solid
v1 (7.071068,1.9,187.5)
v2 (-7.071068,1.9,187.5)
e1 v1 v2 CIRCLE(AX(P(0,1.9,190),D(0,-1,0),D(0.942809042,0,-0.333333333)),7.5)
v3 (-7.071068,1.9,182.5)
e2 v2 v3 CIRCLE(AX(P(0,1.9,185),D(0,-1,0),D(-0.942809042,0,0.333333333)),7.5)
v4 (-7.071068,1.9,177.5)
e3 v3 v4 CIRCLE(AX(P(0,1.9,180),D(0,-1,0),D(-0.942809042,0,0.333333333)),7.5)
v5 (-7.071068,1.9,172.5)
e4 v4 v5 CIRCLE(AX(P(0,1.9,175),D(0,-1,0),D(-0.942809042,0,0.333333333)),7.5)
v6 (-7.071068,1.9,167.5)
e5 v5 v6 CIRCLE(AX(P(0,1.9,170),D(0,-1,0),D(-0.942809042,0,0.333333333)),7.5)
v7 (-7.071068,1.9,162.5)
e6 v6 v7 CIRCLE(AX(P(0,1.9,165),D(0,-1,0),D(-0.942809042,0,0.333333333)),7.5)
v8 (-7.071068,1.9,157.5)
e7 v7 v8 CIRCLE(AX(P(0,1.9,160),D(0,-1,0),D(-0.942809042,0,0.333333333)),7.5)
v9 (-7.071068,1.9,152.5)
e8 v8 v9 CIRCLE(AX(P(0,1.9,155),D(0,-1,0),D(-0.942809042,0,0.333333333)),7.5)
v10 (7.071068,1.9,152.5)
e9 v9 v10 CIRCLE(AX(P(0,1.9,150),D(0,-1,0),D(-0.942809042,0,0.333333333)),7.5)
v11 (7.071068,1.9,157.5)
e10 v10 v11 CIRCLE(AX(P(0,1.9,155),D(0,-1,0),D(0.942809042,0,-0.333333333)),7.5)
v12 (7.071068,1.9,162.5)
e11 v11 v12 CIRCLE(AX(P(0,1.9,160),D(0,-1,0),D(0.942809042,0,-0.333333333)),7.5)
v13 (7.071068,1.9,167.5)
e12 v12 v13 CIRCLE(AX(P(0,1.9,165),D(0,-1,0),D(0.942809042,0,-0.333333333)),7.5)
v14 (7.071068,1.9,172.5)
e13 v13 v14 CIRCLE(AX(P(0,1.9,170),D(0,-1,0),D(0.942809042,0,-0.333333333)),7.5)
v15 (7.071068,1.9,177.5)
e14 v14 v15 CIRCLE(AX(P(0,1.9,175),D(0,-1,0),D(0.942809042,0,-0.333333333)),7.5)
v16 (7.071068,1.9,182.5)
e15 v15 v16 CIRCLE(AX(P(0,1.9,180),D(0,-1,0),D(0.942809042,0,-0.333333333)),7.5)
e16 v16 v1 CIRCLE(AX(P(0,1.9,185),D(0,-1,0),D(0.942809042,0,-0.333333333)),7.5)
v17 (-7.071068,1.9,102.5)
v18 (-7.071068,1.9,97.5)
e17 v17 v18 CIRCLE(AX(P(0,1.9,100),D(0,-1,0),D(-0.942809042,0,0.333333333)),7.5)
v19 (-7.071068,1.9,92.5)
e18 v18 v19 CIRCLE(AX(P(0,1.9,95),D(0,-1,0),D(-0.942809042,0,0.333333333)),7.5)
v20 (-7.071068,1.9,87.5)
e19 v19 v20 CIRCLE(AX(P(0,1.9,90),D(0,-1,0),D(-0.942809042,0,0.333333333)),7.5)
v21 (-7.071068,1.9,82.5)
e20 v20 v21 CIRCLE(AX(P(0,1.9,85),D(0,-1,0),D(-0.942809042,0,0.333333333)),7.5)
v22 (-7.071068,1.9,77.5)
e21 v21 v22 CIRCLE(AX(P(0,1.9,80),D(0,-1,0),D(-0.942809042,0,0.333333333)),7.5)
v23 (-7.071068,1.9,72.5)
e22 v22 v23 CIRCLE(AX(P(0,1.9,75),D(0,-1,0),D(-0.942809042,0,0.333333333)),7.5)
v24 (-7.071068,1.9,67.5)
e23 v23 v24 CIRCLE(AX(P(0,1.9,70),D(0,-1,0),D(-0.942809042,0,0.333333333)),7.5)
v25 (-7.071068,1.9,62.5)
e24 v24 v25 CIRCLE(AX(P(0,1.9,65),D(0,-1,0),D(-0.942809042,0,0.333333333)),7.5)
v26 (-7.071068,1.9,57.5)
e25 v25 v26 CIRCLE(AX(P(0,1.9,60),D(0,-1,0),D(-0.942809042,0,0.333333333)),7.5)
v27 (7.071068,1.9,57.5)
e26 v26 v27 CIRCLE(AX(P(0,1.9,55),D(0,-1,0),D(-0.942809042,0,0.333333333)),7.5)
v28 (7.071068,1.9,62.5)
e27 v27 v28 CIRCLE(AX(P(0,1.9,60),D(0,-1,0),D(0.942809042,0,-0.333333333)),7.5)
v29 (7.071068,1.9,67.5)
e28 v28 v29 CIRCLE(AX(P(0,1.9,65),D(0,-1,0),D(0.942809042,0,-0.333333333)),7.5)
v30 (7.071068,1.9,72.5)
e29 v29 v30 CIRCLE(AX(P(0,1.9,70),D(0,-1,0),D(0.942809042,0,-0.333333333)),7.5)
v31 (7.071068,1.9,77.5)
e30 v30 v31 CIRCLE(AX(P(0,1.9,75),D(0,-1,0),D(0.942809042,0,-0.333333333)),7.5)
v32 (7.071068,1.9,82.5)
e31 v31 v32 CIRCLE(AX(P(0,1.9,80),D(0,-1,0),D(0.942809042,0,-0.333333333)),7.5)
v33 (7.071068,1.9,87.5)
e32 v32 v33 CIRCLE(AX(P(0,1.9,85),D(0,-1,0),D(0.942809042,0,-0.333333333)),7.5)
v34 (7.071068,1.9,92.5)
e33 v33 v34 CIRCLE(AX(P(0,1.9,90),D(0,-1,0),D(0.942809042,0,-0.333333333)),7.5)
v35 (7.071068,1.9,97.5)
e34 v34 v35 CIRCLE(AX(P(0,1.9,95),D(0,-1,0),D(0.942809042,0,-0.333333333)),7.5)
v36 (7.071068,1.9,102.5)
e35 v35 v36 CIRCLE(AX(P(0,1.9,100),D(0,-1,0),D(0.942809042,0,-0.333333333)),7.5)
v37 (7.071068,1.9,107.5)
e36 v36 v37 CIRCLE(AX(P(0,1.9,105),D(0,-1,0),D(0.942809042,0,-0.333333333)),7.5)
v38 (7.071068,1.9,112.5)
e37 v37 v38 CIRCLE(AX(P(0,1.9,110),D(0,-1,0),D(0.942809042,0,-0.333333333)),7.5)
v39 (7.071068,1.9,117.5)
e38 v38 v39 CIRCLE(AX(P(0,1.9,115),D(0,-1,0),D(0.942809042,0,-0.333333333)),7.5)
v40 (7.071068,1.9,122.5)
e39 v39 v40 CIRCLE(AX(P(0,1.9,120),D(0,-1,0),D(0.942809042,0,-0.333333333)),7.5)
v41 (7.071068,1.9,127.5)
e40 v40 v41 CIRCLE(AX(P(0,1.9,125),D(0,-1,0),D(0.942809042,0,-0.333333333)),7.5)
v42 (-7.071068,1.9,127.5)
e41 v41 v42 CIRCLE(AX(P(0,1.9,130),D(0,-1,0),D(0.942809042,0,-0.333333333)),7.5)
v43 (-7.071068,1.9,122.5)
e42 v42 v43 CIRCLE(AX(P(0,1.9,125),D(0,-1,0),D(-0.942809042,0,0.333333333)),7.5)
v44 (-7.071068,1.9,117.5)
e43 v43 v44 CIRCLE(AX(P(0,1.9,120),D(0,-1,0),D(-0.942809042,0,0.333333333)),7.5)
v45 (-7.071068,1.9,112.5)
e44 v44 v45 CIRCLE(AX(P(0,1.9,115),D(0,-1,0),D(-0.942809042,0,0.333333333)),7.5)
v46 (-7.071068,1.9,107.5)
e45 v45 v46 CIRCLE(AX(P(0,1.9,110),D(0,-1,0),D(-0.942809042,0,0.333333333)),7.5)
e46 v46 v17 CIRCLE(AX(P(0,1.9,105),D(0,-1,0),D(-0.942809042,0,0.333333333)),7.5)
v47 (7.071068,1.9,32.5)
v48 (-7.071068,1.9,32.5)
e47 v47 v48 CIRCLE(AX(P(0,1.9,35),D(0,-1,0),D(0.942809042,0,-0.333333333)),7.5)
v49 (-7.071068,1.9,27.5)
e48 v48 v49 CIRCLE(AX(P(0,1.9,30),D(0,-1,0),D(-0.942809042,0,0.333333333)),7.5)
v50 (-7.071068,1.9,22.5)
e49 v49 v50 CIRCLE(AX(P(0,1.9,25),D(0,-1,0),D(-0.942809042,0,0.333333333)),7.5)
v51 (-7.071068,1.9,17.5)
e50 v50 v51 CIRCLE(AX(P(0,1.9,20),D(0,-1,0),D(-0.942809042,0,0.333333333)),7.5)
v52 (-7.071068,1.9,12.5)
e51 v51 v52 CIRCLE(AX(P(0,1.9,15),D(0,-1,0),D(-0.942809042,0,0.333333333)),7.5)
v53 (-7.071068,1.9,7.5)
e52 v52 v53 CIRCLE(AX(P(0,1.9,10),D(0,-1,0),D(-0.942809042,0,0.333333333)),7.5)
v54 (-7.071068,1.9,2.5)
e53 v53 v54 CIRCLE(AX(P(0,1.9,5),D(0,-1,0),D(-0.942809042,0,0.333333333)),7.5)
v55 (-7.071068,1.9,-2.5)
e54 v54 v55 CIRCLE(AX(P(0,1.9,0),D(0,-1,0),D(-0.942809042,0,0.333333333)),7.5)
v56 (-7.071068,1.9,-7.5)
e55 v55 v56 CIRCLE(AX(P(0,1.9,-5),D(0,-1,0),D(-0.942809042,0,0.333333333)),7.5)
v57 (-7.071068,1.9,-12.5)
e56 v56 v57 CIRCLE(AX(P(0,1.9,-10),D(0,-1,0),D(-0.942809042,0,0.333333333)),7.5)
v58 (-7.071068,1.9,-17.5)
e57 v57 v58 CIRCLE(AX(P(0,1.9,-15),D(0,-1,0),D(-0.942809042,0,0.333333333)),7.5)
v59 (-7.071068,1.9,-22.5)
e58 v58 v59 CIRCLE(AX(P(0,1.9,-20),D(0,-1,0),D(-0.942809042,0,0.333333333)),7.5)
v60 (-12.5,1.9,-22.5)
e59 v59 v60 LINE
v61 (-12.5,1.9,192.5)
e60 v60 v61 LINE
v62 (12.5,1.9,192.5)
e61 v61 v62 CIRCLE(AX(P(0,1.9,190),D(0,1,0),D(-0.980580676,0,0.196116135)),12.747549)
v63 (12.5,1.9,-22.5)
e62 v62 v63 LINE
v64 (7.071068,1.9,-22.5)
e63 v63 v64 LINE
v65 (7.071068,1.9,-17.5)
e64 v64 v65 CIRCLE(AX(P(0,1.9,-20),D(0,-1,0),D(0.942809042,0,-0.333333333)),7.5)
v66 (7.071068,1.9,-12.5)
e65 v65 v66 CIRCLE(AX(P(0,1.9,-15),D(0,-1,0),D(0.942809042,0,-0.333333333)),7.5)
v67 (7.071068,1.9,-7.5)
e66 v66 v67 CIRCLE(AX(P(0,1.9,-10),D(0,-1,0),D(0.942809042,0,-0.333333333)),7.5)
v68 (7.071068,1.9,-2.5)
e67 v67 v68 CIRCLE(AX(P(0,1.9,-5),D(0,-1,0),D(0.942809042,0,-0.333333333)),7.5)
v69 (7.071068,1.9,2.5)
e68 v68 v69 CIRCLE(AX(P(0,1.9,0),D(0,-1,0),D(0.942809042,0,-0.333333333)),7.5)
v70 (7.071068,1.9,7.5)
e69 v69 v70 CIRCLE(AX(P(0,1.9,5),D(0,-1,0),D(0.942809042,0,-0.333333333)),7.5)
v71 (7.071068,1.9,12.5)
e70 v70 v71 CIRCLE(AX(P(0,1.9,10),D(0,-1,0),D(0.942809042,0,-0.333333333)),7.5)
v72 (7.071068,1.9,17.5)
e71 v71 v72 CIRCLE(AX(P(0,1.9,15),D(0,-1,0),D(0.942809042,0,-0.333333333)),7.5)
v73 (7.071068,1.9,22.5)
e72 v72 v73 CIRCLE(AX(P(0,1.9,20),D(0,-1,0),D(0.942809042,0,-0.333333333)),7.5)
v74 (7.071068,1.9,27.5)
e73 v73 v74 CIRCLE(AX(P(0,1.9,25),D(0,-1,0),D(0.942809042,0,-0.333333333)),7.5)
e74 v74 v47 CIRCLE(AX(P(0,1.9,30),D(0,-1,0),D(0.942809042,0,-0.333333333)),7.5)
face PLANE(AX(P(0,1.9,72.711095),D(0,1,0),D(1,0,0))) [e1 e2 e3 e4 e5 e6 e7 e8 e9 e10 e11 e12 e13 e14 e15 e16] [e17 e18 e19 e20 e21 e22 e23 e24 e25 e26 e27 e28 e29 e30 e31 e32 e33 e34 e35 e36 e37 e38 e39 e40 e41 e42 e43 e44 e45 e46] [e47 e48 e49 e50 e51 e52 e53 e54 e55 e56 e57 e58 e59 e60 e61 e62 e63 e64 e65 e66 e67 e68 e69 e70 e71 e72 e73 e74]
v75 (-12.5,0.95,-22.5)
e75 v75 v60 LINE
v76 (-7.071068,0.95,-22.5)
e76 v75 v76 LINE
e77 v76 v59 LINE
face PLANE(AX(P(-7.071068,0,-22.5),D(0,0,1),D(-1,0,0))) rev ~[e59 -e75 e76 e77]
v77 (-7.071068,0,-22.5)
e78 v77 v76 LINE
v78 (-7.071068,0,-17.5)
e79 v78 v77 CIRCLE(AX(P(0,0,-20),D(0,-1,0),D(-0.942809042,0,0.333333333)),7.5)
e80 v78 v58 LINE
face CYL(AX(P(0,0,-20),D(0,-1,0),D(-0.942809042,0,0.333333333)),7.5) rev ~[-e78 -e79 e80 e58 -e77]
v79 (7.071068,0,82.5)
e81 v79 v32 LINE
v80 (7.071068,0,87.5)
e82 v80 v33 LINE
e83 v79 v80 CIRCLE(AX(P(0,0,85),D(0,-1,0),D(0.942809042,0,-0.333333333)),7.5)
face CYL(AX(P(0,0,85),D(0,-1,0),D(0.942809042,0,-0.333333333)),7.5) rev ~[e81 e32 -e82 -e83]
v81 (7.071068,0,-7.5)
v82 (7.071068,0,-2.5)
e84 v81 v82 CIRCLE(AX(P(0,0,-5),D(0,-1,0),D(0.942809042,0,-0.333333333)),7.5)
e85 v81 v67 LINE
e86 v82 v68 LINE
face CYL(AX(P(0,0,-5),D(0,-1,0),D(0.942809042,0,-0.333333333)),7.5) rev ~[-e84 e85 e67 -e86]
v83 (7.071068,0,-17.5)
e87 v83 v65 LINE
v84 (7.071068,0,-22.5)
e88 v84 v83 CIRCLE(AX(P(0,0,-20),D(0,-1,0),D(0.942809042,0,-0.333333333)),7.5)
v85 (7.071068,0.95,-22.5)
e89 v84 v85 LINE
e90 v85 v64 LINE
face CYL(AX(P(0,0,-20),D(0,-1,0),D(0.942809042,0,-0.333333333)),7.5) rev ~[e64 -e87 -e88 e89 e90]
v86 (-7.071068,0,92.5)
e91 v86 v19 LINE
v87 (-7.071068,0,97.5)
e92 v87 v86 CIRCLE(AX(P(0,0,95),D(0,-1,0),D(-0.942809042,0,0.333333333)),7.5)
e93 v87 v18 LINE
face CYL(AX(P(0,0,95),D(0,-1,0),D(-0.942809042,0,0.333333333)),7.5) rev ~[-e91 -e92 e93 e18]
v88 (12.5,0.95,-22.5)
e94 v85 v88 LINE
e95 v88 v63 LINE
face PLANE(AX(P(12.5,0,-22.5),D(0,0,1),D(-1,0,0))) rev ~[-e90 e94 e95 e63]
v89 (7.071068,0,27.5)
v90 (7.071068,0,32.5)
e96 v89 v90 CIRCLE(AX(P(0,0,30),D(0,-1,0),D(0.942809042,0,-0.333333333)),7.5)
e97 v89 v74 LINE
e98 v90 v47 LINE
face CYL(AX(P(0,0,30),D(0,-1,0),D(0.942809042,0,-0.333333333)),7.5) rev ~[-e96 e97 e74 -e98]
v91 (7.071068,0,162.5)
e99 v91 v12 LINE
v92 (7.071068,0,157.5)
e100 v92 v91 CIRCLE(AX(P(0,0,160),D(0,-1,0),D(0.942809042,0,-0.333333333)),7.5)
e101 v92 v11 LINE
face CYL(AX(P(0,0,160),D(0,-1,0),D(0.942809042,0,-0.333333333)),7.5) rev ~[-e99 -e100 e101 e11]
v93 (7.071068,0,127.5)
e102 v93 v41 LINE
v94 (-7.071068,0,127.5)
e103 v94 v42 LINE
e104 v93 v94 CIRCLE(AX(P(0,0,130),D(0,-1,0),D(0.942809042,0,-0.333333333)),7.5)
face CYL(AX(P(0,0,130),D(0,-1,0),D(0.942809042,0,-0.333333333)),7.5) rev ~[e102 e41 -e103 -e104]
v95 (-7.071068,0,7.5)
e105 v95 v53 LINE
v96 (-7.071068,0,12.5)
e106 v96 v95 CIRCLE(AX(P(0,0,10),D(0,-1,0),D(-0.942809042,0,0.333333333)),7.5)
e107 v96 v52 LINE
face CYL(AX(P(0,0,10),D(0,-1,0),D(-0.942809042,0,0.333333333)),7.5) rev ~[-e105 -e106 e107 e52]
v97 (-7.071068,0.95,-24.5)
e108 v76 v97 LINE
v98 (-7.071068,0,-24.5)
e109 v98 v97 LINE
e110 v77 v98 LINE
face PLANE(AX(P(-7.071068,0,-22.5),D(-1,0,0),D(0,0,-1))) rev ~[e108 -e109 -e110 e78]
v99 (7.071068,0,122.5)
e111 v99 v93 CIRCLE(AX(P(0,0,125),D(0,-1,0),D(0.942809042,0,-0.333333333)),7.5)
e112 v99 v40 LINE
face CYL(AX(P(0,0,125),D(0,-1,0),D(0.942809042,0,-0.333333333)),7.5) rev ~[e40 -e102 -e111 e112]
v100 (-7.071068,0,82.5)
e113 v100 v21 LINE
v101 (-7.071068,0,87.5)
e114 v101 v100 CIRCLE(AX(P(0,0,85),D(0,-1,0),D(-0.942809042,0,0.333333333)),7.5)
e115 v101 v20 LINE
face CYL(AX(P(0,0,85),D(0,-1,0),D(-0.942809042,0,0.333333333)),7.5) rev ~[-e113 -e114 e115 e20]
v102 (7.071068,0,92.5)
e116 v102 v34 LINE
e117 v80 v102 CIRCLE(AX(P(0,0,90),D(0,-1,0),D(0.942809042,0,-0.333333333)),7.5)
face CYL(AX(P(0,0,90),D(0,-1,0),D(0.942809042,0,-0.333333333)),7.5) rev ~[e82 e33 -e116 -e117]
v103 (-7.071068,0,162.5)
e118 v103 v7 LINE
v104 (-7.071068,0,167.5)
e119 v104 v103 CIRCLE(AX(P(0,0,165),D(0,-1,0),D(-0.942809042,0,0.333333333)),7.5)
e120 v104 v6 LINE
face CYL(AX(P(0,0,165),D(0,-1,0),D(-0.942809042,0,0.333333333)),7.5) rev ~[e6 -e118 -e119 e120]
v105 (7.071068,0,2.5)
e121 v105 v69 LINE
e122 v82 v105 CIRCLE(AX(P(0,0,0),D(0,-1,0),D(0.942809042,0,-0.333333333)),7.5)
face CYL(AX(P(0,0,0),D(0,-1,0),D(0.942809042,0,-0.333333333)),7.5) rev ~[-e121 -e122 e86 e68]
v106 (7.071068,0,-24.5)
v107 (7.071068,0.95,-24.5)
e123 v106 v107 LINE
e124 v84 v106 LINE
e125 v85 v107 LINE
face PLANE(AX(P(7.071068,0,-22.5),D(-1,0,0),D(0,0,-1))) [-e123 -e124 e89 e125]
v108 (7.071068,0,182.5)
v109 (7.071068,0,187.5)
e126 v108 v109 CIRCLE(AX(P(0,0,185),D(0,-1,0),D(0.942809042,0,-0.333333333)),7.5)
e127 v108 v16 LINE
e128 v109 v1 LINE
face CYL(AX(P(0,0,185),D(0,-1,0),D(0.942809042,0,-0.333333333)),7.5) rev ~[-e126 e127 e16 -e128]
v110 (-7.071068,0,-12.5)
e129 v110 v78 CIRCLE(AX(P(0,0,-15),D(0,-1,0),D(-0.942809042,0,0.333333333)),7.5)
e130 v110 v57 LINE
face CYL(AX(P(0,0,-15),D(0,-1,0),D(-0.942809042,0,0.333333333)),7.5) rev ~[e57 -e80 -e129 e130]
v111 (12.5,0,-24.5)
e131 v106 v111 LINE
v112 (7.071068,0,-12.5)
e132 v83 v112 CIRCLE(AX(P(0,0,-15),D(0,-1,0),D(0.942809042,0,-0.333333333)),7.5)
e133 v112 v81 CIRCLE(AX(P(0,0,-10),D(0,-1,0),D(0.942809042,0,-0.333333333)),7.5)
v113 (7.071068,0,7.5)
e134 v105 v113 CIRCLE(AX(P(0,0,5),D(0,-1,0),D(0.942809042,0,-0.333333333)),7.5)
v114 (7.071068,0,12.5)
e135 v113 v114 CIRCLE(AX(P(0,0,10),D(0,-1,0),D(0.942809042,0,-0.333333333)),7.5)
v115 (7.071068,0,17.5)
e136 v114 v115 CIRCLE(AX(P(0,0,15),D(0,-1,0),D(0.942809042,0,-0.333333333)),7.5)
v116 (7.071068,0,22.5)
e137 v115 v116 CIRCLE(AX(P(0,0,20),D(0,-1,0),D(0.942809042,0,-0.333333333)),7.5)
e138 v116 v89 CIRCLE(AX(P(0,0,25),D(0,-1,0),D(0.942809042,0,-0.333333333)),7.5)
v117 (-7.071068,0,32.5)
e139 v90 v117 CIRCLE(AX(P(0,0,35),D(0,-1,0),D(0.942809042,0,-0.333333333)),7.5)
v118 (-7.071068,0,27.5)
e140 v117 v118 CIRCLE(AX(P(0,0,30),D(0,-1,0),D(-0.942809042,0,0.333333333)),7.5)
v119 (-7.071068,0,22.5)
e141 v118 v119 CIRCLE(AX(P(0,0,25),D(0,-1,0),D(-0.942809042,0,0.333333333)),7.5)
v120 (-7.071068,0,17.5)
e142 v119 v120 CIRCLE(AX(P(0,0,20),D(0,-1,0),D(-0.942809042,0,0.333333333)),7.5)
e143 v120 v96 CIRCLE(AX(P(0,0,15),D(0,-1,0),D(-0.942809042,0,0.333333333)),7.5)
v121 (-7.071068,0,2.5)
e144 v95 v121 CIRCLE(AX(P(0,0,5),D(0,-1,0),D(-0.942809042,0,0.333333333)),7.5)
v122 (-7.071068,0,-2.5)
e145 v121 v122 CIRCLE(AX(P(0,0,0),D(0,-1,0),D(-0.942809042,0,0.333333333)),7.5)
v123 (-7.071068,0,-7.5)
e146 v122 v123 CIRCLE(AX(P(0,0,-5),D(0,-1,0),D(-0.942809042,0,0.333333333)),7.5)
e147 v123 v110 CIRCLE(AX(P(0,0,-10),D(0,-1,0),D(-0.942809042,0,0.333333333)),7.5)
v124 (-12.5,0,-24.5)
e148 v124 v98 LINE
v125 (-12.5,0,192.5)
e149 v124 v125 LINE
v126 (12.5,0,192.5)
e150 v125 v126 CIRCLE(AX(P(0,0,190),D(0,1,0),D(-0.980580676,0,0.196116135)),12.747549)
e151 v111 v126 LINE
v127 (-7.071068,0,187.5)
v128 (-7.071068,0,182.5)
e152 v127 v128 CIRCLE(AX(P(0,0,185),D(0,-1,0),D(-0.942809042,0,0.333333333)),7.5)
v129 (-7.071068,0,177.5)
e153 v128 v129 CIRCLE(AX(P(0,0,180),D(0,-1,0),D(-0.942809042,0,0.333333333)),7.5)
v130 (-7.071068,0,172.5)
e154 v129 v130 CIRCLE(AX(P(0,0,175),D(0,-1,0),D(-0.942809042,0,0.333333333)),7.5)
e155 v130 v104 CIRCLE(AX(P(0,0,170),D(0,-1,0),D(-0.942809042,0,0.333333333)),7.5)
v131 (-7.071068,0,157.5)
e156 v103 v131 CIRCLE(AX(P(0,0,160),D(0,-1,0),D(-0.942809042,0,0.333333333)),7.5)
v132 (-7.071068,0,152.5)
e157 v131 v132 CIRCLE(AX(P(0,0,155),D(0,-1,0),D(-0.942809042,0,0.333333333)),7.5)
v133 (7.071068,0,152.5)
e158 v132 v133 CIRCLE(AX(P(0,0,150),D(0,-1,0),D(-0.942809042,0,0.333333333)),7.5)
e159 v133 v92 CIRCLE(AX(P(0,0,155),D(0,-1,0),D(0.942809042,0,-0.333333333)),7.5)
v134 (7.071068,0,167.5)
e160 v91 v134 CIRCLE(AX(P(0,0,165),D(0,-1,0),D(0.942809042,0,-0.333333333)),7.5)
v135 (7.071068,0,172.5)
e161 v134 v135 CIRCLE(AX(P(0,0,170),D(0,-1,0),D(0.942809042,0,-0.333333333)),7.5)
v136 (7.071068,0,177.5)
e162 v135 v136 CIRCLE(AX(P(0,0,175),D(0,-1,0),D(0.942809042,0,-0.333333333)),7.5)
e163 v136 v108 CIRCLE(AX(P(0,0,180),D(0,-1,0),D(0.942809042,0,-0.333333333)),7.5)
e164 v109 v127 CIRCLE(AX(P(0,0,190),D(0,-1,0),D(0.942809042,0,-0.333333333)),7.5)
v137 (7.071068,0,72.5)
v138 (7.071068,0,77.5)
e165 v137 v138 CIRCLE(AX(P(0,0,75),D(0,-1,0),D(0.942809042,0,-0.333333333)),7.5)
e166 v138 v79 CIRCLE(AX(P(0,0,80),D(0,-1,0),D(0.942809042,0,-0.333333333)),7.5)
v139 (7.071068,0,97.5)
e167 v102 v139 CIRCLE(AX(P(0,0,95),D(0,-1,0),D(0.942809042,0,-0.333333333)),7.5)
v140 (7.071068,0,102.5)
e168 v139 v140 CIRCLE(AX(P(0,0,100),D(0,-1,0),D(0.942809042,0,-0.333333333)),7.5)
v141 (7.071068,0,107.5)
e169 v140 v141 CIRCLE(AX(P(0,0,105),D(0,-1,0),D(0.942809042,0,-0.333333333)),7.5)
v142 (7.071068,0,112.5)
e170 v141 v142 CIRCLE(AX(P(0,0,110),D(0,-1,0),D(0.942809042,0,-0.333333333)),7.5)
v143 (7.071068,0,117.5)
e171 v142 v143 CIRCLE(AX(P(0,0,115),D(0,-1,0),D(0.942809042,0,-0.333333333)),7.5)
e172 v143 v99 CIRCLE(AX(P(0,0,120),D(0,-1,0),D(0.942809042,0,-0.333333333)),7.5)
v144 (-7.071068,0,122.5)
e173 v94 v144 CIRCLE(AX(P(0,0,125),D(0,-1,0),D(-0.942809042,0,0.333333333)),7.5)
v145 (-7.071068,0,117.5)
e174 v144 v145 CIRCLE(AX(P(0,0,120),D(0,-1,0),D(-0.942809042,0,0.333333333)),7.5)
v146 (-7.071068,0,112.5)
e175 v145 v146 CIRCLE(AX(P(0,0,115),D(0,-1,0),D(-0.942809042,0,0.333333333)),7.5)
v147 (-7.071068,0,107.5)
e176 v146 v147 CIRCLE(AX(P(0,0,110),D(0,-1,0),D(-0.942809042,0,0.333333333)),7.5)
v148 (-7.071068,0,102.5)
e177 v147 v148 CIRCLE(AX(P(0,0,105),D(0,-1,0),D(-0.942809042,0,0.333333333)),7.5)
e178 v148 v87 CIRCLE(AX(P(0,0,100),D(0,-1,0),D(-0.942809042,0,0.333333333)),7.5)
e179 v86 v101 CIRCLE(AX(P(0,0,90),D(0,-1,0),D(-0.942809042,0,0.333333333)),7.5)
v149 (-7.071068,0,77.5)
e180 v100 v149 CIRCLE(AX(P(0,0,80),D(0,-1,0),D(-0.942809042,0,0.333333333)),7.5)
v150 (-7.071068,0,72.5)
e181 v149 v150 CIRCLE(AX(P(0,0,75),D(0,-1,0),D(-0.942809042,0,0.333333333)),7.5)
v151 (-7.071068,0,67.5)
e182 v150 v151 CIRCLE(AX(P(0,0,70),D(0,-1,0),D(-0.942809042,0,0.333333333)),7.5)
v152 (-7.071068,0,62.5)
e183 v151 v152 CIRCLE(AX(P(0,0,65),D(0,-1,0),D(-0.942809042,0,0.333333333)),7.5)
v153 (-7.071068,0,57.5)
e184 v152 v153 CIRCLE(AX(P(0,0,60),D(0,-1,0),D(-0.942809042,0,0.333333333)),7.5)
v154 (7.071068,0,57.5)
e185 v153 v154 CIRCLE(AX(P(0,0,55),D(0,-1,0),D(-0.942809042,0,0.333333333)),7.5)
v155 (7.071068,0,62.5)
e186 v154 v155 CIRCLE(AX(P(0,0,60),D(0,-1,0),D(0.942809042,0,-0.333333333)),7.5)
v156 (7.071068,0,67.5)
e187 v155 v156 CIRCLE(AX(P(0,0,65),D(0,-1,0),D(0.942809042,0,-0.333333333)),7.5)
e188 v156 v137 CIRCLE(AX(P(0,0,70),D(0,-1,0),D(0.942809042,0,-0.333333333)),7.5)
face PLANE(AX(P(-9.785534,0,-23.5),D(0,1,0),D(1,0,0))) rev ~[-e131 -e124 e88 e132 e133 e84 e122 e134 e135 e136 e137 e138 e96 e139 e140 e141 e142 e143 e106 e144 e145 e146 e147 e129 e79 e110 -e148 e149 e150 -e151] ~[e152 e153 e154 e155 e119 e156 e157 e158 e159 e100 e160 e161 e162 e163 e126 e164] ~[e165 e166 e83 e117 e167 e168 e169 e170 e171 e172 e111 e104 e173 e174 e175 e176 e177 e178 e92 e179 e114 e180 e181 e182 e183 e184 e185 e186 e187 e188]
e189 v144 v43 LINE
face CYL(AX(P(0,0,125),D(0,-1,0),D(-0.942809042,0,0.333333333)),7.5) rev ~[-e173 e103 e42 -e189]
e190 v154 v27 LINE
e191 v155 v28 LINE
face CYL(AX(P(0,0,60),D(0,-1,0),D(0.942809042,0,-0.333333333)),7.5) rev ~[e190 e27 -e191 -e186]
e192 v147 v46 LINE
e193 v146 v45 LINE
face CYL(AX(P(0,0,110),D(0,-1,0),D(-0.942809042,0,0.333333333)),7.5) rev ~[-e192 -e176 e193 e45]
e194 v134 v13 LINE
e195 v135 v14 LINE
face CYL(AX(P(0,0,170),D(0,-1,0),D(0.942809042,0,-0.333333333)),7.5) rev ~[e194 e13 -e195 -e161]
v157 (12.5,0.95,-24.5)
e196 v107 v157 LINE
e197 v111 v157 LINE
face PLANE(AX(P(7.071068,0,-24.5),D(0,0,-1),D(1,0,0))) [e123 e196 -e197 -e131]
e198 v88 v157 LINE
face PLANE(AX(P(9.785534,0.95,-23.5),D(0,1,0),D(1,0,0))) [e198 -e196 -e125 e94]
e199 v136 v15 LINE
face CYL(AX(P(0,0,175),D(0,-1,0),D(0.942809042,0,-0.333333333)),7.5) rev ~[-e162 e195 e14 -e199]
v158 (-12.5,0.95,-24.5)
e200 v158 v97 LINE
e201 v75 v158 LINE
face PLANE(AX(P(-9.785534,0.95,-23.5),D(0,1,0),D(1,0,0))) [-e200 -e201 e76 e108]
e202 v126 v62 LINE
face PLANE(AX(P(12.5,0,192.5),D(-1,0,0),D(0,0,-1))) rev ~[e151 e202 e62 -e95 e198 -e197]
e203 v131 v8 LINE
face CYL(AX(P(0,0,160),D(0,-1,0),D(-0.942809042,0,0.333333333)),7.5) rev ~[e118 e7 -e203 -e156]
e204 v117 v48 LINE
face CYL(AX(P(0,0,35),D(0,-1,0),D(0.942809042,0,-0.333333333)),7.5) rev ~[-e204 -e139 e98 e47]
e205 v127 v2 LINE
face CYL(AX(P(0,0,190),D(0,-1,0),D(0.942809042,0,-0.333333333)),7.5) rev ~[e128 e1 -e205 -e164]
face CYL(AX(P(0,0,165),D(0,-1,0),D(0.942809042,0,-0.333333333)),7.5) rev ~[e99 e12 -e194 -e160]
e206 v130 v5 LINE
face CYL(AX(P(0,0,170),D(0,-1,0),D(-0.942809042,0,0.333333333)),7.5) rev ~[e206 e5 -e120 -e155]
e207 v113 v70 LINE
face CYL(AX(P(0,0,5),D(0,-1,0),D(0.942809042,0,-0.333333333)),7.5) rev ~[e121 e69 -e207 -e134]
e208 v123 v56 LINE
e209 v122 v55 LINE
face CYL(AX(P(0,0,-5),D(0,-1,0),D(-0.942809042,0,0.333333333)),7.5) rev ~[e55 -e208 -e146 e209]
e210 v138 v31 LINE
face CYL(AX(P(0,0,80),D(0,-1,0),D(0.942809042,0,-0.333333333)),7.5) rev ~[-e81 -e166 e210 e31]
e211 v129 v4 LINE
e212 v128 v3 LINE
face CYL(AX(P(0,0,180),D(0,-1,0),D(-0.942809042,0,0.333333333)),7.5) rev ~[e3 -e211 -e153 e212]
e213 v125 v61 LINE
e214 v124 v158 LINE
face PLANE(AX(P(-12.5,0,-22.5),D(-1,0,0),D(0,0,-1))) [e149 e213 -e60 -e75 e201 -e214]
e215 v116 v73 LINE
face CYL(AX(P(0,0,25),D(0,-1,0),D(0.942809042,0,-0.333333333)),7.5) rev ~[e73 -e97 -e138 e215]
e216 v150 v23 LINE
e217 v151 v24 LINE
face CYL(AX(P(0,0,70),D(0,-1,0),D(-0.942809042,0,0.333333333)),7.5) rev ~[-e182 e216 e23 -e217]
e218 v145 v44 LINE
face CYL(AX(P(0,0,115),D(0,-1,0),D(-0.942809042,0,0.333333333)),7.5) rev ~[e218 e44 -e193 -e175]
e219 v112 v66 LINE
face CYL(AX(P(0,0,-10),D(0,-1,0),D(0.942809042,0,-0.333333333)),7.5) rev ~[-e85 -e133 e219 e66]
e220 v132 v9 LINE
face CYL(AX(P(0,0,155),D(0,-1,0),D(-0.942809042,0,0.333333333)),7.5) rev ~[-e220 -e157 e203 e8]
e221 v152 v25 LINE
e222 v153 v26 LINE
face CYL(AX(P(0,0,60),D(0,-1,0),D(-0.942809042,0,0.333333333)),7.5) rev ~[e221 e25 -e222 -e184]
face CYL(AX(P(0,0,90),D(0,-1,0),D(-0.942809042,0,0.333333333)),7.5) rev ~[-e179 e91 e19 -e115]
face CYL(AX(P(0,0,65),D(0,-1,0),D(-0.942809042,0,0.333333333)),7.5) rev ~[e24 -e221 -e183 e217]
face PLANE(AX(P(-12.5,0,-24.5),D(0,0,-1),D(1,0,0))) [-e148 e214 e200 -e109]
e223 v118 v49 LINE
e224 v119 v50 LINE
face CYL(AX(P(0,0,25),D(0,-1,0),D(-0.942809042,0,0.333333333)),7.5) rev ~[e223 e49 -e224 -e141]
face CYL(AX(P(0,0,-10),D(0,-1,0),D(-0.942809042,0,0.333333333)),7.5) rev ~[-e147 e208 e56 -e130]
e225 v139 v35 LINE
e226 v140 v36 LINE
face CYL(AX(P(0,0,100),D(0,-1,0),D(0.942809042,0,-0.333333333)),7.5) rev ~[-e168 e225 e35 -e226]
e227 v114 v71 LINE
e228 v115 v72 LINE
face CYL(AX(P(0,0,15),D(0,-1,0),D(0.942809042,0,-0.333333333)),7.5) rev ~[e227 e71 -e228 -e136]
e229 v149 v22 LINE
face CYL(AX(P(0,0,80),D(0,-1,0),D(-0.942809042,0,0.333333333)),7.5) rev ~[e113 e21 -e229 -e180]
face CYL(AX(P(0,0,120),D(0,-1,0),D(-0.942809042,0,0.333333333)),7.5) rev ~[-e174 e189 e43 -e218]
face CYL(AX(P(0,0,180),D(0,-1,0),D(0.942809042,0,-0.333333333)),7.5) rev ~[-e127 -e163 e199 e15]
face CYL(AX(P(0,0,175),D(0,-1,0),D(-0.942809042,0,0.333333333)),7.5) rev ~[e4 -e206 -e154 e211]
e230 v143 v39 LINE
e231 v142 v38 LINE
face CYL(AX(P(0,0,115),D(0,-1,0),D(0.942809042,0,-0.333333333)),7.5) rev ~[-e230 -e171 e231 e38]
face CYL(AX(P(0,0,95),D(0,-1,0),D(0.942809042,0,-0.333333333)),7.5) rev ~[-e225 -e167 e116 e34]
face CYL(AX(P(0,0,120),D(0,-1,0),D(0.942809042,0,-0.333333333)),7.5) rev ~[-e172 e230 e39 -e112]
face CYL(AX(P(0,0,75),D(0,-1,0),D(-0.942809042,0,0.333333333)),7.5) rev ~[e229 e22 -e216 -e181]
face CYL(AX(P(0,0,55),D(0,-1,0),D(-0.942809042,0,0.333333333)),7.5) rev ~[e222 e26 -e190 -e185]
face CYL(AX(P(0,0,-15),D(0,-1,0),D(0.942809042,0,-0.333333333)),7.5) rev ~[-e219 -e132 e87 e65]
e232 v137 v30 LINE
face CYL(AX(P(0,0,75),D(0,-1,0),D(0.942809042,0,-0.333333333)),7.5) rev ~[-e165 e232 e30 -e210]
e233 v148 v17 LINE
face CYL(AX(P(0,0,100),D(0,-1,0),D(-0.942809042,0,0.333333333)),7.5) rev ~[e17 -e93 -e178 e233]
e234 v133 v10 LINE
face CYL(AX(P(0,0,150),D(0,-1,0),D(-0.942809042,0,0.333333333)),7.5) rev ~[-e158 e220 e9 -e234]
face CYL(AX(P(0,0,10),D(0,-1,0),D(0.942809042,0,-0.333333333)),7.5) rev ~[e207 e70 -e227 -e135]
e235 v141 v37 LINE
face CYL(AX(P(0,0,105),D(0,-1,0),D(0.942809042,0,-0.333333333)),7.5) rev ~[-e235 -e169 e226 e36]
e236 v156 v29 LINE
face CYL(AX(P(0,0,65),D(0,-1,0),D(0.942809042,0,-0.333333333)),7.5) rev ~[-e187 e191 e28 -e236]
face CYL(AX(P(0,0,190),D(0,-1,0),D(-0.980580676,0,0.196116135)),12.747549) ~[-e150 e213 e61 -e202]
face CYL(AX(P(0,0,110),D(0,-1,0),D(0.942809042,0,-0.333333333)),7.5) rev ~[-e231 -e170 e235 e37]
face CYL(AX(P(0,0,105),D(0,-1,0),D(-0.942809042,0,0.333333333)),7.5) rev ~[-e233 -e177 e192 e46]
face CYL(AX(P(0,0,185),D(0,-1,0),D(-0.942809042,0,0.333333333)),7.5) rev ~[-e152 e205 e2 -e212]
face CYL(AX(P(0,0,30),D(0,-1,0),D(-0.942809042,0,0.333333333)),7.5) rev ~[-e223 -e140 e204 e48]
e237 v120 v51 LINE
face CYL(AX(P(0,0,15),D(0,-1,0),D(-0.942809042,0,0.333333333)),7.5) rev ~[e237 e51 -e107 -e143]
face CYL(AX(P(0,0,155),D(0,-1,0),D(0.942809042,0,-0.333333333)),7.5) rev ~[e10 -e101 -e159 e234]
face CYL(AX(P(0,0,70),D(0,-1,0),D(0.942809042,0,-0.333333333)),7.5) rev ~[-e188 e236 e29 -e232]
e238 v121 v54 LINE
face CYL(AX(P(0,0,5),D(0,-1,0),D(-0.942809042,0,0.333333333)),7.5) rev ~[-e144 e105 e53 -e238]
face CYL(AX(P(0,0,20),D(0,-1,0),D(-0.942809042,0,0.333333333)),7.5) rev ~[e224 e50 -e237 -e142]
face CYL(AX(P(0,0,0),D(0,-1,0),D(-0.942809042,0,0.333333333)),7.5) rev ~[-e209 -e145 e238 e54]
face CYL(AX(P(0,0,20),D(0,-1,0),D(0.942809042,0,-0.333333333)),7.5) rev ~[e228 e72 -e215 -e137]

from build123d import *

# Parameters (mm, degrees)
BOSS_EXTRUDE4_DEPTH = 1.9
SKETCH7_W           = 5.428932188
SKETCH7_H           = 2
BOSS_EXTRUDE5_DEPTH = 0.95


with BuildPart() as part:
    # Sketch6 → Boss-Extrude4 (new body)
    with BuildSketch(Plane(origin=(0, 0, 0), x_dir=(1, 0, 0), z_dir=(0, 1, 0))):
        with BuildLine():
            ThreePointArc((-12.5, -192.5), (0, -202.747548784), (12.5, -192.5))
            Line((12.5, -192.5), (12.5, 22.5))
            Line((12.5, 22.5), (7.071067812, 22.5))
            ThreePointArc((7.071067812, 22.5), (7.5, 20), (7.071067812, 17.5))
            ThreePointArc((7.071067812, 17.5), (7.5, 15), (7.071067812, 12.5))
            ThreePointArc((7.071067812, 12.5), (7.5, 10), (7.071067812, 7.5))
            ThreePointArc((7.071067812, 7.5), (7.5, 5), (7.071067812, 2.5))
            ThreePointArc((7.071067812, 2.5), (7.5, 0), (7.071067812, -2.5))
            ThreePointArc((7.071067812, -2.5), (7.5, -5), (7.071067812, -7.5))
            ThreePointArc((7.071067812, -7.5), (7.5, -10), (7.071067812, -12.5))
            ThreePointArc((7.071067812, -12.5), (7.5, -15), (7.071067812, -17.5))
            ThreePointArc((7.071067812, -17.5), (7.5, -20), (7.071067812, -22.5))
            ThreePointArc((7.071067812, -22.5), (7.5, -25), (7.071067812, -27.5))
            ThreePointArc((7.071067812, -27.5), (7.5, -30), (7.071067812, -32.5))
            ThreePointArc((7.071067812, -32.5), (0, -42.5), (-7.071067812, -32.5))
            ThreePointArc((-7.071067812, -32.5), (-7.5, -30), (-7.071067812, -27.5))
            ThreePointArc((-7.071067812, -27.5), (-7.5, -25), (-7.071067812, -22.5))
            ThreePointArc((-7.071067812, -22.5), (-7.5, -20), (-7.071067812, -17.5))
            ThreePointArc((-7.071067812, -17.5), (-7.5, -15), (-7.071067812, -12.5))
            ThreePointArc((-7.071067812, -12.5), (-7.5, -10), (-7.071067812, -7.5))
            ThreePointArc((-7.071067812, -7.5), (-7.5, -5), (-7.071067812, -2.5))
            ThreePointArc((-7.071067812, -2.5), (-7.5, 0), (-7.071067812, 2.5))
            ThreePointArc((-7.071067812, 2.5), (-7.5, 5), (-7.071067812, 7.5))
            ThreePointArc((-7.071067812, 7.5), (-7.5, 10), (-7.071067812, 12.5))
            ThreePointArc((-7.071067812, 12.5), (-7.5, 15), (-7.071067812, 17.5))
            ThreePointArc((-7.071067812, 17.5), (-7.5, 20), (-7.071067812, 22.5))
            Line((-7.071067812, 22.5), (-12.5, 22.5))
            Line((-12.5, 22.5), (-12.5, -192.5))
        make_face()
        with BuildLine():
            ThreePointArc((7.071067812, -57.5), (7.5, -60), (7.071067812, -62.5))
            ThreePointArc((7.071067812, -62.5), (7.5, -65), (7.071067812, -67.5))
            ThreePointArc((7.071067812, -67.5), (7.5, -70), (7.071067812, -72.5))
            ThreePointArc((7.071067812, -72.5), (7.5, -75), (7.071067812, -77.5))
            ThreePointArc((7.071067812, -77.5), (7.5, -80), (7.071067812, -82.5))
            ThreePointArc((7.071067812, -82.5), (7.5, -85), (7.071067812, -87.5))
            ThreePointArc((7.071067812, -87.5), (7.5, -90), (7.071067812, -92.5))
            ThreePointArc((7.071067812, -92.5), (7.5, -95), (7.071067812, -97.5))
            ThreePointArc((7.071067812, -97.5), (7.5, -100), (7.071067812, -102.5))
            ThreePointArc((7.071067812, -102.5), (7.5, -105), (7.071067812, -107.5))
            ThreePointArc((7.071067812, -107.5), (7.5, -110), (7.071067812, -112.5))
            ThreePointArc((7.071067812, -112.5), (7.5, -115), (7.071067812, -117.5))
            ThreePointArc((7.071067812, -117.5), (7.5, -120), (7.071067812, -122.5))
            ThreePointArc((7.071067812, -122.5), (7.5, -125), (7.071067812, -127.5))
            ThreePointArc((7.071067812, -127.5), (0, -137.5), (-7.071067812, -127.5))
            ThreePointArc((-7.071067812, -127.5), (-7.5, -125), (-7.071067812, -122.5))
            ThreePointArc((-7.071067812, -122.5), (-7.5, -120), (-7.071067812, -117.5))
            ThreePointArc((-7.071067812, -117.5), (-7.5, -115), (-7.071067812, -112.5))
            ThreePointArc((-7.071067812, -112.5), (-7.5, -110), (-7.071067812, -107.5))
            ThreePointArc((-7.071067812, -107.5), (-7.5, -105), (-7.071067812, -102.5))
            ThreePointArc((-7.071067812, -102.5), (-7.5, -100), (-7.071067812, -97.5))
            ThreePointArc((-7.071067812, -97.5), (-7.5, -95), (-7.071067812, -92.5))
            ThreePointArc((-7.071067812, -92.5), (-7.5, -90), (-7.071067812, -87.5))
            ThreePointArc((-7.071067812, -87.5), (-7.5, -85), (-7.071067812, -82.5))
            ThreePointArc((-7.071067812, -82.5), (-7.5, -80), (-7.071067812, -77.5))
            ThreePointArc((-7.071067812, -77.5), (-7.5, -75), (-7.071067812, -72.5))
            ThreePointArc((-7.071067812, -72.5), (-7.5, -70), (-7.071067812, -67.5))
            ThreePointArc((-7.071067812, -67.5), (-7.5, -65), (-7.071067812, -62.5))
            ThreePointArc((-7.071067812, -62.5), (-7.5, -60), (-7.071067812, -57.5))
            ThreePointArc((-7.071067812, -57.5), (0, -47.5), (7.071067812, -57.5))
        make_face(mode=Mode.SUBTRACT)
        with BuildLine():
            ThreePointArc((7.071067812, -152.5), (7.5, -155), (7.071067812, -157.5))
            ThreePointArc((7.071067812, -157.5), (7.5, -160), (7.071067812, -162.5))
            ThreePointArc((7.071067812, -162.5), (7.5, -165), (7.071067812, -167.5))
            ThreePointArc((7.071067812, -167.5), (7.5, -170), (7.071067812, -172.5))
            ThreePointArc((7.071067812, -172.5), (7.5, -175), (7.071067812, -177.5))
            ThreePointArc((7.071067812, -177.5), (7.5, -180), (7.071067812, -182.5))
            ThreePointArc((7.071067812, -182.5), (7.5, -185), (7.071067812, -187.5))
            ThreePointArc((7.071067812, -187.5), (0, -197.5), (-7.071067812, -187.5))
            ThreePointArc((-7.071067812, -187.5), (-7.5, -185), (-7.071067812, -182.5))
            ThreePointArc((-7.071067812, -182.5), (-7.5, -180), (-7.071067812, -177.5))
            ThreePointArc((-7.071067812, -177.5), (-7.5, -175), (-7.071067812, -172.5))
            ThreePointArc((-7.071067812, -172.5), (-7.5, -170), (-7.071067812, -167.5))
            ThreePointArc((-7.071067812, -167.5), (-7.5, -165), (-7.071067812, -162.5))
            ThreePointArc((-7.071067812, -162.5), (-7.5, -160), (-7.071067812, -157.5))
            ThreePointArc((-7.071067812, -157.5), (-7.5, -155), (-7.071067812, -152.5))
            ThreePointArc((-7.071067812, -152.5), (0, -142.5), (7.071067812, -152.5))
        make_face(mode=Mode.SUBTRACT)
    extrude(amount=BOSS_EXTRUDE4_DEPTH)

    # Sketch7 → Boss-Extrude5 (add)
    with BuildSketch(Plane(origin=(0, 0, 0), x_dir=(1, 0, 0), z_dir=(0, 1, 0))):
        with Locations((-9.785533906, 23.5)):
            Rectangle(SKETCH7_W, SKETCH7_H)
        with Locations((9.785533906, 23.5)):
            Rectangle(SKETCH7_W, SKETCH7_H)
    extrude(amount=BOSS_EXTRUDE5_DEPTH)


solid = part.part
